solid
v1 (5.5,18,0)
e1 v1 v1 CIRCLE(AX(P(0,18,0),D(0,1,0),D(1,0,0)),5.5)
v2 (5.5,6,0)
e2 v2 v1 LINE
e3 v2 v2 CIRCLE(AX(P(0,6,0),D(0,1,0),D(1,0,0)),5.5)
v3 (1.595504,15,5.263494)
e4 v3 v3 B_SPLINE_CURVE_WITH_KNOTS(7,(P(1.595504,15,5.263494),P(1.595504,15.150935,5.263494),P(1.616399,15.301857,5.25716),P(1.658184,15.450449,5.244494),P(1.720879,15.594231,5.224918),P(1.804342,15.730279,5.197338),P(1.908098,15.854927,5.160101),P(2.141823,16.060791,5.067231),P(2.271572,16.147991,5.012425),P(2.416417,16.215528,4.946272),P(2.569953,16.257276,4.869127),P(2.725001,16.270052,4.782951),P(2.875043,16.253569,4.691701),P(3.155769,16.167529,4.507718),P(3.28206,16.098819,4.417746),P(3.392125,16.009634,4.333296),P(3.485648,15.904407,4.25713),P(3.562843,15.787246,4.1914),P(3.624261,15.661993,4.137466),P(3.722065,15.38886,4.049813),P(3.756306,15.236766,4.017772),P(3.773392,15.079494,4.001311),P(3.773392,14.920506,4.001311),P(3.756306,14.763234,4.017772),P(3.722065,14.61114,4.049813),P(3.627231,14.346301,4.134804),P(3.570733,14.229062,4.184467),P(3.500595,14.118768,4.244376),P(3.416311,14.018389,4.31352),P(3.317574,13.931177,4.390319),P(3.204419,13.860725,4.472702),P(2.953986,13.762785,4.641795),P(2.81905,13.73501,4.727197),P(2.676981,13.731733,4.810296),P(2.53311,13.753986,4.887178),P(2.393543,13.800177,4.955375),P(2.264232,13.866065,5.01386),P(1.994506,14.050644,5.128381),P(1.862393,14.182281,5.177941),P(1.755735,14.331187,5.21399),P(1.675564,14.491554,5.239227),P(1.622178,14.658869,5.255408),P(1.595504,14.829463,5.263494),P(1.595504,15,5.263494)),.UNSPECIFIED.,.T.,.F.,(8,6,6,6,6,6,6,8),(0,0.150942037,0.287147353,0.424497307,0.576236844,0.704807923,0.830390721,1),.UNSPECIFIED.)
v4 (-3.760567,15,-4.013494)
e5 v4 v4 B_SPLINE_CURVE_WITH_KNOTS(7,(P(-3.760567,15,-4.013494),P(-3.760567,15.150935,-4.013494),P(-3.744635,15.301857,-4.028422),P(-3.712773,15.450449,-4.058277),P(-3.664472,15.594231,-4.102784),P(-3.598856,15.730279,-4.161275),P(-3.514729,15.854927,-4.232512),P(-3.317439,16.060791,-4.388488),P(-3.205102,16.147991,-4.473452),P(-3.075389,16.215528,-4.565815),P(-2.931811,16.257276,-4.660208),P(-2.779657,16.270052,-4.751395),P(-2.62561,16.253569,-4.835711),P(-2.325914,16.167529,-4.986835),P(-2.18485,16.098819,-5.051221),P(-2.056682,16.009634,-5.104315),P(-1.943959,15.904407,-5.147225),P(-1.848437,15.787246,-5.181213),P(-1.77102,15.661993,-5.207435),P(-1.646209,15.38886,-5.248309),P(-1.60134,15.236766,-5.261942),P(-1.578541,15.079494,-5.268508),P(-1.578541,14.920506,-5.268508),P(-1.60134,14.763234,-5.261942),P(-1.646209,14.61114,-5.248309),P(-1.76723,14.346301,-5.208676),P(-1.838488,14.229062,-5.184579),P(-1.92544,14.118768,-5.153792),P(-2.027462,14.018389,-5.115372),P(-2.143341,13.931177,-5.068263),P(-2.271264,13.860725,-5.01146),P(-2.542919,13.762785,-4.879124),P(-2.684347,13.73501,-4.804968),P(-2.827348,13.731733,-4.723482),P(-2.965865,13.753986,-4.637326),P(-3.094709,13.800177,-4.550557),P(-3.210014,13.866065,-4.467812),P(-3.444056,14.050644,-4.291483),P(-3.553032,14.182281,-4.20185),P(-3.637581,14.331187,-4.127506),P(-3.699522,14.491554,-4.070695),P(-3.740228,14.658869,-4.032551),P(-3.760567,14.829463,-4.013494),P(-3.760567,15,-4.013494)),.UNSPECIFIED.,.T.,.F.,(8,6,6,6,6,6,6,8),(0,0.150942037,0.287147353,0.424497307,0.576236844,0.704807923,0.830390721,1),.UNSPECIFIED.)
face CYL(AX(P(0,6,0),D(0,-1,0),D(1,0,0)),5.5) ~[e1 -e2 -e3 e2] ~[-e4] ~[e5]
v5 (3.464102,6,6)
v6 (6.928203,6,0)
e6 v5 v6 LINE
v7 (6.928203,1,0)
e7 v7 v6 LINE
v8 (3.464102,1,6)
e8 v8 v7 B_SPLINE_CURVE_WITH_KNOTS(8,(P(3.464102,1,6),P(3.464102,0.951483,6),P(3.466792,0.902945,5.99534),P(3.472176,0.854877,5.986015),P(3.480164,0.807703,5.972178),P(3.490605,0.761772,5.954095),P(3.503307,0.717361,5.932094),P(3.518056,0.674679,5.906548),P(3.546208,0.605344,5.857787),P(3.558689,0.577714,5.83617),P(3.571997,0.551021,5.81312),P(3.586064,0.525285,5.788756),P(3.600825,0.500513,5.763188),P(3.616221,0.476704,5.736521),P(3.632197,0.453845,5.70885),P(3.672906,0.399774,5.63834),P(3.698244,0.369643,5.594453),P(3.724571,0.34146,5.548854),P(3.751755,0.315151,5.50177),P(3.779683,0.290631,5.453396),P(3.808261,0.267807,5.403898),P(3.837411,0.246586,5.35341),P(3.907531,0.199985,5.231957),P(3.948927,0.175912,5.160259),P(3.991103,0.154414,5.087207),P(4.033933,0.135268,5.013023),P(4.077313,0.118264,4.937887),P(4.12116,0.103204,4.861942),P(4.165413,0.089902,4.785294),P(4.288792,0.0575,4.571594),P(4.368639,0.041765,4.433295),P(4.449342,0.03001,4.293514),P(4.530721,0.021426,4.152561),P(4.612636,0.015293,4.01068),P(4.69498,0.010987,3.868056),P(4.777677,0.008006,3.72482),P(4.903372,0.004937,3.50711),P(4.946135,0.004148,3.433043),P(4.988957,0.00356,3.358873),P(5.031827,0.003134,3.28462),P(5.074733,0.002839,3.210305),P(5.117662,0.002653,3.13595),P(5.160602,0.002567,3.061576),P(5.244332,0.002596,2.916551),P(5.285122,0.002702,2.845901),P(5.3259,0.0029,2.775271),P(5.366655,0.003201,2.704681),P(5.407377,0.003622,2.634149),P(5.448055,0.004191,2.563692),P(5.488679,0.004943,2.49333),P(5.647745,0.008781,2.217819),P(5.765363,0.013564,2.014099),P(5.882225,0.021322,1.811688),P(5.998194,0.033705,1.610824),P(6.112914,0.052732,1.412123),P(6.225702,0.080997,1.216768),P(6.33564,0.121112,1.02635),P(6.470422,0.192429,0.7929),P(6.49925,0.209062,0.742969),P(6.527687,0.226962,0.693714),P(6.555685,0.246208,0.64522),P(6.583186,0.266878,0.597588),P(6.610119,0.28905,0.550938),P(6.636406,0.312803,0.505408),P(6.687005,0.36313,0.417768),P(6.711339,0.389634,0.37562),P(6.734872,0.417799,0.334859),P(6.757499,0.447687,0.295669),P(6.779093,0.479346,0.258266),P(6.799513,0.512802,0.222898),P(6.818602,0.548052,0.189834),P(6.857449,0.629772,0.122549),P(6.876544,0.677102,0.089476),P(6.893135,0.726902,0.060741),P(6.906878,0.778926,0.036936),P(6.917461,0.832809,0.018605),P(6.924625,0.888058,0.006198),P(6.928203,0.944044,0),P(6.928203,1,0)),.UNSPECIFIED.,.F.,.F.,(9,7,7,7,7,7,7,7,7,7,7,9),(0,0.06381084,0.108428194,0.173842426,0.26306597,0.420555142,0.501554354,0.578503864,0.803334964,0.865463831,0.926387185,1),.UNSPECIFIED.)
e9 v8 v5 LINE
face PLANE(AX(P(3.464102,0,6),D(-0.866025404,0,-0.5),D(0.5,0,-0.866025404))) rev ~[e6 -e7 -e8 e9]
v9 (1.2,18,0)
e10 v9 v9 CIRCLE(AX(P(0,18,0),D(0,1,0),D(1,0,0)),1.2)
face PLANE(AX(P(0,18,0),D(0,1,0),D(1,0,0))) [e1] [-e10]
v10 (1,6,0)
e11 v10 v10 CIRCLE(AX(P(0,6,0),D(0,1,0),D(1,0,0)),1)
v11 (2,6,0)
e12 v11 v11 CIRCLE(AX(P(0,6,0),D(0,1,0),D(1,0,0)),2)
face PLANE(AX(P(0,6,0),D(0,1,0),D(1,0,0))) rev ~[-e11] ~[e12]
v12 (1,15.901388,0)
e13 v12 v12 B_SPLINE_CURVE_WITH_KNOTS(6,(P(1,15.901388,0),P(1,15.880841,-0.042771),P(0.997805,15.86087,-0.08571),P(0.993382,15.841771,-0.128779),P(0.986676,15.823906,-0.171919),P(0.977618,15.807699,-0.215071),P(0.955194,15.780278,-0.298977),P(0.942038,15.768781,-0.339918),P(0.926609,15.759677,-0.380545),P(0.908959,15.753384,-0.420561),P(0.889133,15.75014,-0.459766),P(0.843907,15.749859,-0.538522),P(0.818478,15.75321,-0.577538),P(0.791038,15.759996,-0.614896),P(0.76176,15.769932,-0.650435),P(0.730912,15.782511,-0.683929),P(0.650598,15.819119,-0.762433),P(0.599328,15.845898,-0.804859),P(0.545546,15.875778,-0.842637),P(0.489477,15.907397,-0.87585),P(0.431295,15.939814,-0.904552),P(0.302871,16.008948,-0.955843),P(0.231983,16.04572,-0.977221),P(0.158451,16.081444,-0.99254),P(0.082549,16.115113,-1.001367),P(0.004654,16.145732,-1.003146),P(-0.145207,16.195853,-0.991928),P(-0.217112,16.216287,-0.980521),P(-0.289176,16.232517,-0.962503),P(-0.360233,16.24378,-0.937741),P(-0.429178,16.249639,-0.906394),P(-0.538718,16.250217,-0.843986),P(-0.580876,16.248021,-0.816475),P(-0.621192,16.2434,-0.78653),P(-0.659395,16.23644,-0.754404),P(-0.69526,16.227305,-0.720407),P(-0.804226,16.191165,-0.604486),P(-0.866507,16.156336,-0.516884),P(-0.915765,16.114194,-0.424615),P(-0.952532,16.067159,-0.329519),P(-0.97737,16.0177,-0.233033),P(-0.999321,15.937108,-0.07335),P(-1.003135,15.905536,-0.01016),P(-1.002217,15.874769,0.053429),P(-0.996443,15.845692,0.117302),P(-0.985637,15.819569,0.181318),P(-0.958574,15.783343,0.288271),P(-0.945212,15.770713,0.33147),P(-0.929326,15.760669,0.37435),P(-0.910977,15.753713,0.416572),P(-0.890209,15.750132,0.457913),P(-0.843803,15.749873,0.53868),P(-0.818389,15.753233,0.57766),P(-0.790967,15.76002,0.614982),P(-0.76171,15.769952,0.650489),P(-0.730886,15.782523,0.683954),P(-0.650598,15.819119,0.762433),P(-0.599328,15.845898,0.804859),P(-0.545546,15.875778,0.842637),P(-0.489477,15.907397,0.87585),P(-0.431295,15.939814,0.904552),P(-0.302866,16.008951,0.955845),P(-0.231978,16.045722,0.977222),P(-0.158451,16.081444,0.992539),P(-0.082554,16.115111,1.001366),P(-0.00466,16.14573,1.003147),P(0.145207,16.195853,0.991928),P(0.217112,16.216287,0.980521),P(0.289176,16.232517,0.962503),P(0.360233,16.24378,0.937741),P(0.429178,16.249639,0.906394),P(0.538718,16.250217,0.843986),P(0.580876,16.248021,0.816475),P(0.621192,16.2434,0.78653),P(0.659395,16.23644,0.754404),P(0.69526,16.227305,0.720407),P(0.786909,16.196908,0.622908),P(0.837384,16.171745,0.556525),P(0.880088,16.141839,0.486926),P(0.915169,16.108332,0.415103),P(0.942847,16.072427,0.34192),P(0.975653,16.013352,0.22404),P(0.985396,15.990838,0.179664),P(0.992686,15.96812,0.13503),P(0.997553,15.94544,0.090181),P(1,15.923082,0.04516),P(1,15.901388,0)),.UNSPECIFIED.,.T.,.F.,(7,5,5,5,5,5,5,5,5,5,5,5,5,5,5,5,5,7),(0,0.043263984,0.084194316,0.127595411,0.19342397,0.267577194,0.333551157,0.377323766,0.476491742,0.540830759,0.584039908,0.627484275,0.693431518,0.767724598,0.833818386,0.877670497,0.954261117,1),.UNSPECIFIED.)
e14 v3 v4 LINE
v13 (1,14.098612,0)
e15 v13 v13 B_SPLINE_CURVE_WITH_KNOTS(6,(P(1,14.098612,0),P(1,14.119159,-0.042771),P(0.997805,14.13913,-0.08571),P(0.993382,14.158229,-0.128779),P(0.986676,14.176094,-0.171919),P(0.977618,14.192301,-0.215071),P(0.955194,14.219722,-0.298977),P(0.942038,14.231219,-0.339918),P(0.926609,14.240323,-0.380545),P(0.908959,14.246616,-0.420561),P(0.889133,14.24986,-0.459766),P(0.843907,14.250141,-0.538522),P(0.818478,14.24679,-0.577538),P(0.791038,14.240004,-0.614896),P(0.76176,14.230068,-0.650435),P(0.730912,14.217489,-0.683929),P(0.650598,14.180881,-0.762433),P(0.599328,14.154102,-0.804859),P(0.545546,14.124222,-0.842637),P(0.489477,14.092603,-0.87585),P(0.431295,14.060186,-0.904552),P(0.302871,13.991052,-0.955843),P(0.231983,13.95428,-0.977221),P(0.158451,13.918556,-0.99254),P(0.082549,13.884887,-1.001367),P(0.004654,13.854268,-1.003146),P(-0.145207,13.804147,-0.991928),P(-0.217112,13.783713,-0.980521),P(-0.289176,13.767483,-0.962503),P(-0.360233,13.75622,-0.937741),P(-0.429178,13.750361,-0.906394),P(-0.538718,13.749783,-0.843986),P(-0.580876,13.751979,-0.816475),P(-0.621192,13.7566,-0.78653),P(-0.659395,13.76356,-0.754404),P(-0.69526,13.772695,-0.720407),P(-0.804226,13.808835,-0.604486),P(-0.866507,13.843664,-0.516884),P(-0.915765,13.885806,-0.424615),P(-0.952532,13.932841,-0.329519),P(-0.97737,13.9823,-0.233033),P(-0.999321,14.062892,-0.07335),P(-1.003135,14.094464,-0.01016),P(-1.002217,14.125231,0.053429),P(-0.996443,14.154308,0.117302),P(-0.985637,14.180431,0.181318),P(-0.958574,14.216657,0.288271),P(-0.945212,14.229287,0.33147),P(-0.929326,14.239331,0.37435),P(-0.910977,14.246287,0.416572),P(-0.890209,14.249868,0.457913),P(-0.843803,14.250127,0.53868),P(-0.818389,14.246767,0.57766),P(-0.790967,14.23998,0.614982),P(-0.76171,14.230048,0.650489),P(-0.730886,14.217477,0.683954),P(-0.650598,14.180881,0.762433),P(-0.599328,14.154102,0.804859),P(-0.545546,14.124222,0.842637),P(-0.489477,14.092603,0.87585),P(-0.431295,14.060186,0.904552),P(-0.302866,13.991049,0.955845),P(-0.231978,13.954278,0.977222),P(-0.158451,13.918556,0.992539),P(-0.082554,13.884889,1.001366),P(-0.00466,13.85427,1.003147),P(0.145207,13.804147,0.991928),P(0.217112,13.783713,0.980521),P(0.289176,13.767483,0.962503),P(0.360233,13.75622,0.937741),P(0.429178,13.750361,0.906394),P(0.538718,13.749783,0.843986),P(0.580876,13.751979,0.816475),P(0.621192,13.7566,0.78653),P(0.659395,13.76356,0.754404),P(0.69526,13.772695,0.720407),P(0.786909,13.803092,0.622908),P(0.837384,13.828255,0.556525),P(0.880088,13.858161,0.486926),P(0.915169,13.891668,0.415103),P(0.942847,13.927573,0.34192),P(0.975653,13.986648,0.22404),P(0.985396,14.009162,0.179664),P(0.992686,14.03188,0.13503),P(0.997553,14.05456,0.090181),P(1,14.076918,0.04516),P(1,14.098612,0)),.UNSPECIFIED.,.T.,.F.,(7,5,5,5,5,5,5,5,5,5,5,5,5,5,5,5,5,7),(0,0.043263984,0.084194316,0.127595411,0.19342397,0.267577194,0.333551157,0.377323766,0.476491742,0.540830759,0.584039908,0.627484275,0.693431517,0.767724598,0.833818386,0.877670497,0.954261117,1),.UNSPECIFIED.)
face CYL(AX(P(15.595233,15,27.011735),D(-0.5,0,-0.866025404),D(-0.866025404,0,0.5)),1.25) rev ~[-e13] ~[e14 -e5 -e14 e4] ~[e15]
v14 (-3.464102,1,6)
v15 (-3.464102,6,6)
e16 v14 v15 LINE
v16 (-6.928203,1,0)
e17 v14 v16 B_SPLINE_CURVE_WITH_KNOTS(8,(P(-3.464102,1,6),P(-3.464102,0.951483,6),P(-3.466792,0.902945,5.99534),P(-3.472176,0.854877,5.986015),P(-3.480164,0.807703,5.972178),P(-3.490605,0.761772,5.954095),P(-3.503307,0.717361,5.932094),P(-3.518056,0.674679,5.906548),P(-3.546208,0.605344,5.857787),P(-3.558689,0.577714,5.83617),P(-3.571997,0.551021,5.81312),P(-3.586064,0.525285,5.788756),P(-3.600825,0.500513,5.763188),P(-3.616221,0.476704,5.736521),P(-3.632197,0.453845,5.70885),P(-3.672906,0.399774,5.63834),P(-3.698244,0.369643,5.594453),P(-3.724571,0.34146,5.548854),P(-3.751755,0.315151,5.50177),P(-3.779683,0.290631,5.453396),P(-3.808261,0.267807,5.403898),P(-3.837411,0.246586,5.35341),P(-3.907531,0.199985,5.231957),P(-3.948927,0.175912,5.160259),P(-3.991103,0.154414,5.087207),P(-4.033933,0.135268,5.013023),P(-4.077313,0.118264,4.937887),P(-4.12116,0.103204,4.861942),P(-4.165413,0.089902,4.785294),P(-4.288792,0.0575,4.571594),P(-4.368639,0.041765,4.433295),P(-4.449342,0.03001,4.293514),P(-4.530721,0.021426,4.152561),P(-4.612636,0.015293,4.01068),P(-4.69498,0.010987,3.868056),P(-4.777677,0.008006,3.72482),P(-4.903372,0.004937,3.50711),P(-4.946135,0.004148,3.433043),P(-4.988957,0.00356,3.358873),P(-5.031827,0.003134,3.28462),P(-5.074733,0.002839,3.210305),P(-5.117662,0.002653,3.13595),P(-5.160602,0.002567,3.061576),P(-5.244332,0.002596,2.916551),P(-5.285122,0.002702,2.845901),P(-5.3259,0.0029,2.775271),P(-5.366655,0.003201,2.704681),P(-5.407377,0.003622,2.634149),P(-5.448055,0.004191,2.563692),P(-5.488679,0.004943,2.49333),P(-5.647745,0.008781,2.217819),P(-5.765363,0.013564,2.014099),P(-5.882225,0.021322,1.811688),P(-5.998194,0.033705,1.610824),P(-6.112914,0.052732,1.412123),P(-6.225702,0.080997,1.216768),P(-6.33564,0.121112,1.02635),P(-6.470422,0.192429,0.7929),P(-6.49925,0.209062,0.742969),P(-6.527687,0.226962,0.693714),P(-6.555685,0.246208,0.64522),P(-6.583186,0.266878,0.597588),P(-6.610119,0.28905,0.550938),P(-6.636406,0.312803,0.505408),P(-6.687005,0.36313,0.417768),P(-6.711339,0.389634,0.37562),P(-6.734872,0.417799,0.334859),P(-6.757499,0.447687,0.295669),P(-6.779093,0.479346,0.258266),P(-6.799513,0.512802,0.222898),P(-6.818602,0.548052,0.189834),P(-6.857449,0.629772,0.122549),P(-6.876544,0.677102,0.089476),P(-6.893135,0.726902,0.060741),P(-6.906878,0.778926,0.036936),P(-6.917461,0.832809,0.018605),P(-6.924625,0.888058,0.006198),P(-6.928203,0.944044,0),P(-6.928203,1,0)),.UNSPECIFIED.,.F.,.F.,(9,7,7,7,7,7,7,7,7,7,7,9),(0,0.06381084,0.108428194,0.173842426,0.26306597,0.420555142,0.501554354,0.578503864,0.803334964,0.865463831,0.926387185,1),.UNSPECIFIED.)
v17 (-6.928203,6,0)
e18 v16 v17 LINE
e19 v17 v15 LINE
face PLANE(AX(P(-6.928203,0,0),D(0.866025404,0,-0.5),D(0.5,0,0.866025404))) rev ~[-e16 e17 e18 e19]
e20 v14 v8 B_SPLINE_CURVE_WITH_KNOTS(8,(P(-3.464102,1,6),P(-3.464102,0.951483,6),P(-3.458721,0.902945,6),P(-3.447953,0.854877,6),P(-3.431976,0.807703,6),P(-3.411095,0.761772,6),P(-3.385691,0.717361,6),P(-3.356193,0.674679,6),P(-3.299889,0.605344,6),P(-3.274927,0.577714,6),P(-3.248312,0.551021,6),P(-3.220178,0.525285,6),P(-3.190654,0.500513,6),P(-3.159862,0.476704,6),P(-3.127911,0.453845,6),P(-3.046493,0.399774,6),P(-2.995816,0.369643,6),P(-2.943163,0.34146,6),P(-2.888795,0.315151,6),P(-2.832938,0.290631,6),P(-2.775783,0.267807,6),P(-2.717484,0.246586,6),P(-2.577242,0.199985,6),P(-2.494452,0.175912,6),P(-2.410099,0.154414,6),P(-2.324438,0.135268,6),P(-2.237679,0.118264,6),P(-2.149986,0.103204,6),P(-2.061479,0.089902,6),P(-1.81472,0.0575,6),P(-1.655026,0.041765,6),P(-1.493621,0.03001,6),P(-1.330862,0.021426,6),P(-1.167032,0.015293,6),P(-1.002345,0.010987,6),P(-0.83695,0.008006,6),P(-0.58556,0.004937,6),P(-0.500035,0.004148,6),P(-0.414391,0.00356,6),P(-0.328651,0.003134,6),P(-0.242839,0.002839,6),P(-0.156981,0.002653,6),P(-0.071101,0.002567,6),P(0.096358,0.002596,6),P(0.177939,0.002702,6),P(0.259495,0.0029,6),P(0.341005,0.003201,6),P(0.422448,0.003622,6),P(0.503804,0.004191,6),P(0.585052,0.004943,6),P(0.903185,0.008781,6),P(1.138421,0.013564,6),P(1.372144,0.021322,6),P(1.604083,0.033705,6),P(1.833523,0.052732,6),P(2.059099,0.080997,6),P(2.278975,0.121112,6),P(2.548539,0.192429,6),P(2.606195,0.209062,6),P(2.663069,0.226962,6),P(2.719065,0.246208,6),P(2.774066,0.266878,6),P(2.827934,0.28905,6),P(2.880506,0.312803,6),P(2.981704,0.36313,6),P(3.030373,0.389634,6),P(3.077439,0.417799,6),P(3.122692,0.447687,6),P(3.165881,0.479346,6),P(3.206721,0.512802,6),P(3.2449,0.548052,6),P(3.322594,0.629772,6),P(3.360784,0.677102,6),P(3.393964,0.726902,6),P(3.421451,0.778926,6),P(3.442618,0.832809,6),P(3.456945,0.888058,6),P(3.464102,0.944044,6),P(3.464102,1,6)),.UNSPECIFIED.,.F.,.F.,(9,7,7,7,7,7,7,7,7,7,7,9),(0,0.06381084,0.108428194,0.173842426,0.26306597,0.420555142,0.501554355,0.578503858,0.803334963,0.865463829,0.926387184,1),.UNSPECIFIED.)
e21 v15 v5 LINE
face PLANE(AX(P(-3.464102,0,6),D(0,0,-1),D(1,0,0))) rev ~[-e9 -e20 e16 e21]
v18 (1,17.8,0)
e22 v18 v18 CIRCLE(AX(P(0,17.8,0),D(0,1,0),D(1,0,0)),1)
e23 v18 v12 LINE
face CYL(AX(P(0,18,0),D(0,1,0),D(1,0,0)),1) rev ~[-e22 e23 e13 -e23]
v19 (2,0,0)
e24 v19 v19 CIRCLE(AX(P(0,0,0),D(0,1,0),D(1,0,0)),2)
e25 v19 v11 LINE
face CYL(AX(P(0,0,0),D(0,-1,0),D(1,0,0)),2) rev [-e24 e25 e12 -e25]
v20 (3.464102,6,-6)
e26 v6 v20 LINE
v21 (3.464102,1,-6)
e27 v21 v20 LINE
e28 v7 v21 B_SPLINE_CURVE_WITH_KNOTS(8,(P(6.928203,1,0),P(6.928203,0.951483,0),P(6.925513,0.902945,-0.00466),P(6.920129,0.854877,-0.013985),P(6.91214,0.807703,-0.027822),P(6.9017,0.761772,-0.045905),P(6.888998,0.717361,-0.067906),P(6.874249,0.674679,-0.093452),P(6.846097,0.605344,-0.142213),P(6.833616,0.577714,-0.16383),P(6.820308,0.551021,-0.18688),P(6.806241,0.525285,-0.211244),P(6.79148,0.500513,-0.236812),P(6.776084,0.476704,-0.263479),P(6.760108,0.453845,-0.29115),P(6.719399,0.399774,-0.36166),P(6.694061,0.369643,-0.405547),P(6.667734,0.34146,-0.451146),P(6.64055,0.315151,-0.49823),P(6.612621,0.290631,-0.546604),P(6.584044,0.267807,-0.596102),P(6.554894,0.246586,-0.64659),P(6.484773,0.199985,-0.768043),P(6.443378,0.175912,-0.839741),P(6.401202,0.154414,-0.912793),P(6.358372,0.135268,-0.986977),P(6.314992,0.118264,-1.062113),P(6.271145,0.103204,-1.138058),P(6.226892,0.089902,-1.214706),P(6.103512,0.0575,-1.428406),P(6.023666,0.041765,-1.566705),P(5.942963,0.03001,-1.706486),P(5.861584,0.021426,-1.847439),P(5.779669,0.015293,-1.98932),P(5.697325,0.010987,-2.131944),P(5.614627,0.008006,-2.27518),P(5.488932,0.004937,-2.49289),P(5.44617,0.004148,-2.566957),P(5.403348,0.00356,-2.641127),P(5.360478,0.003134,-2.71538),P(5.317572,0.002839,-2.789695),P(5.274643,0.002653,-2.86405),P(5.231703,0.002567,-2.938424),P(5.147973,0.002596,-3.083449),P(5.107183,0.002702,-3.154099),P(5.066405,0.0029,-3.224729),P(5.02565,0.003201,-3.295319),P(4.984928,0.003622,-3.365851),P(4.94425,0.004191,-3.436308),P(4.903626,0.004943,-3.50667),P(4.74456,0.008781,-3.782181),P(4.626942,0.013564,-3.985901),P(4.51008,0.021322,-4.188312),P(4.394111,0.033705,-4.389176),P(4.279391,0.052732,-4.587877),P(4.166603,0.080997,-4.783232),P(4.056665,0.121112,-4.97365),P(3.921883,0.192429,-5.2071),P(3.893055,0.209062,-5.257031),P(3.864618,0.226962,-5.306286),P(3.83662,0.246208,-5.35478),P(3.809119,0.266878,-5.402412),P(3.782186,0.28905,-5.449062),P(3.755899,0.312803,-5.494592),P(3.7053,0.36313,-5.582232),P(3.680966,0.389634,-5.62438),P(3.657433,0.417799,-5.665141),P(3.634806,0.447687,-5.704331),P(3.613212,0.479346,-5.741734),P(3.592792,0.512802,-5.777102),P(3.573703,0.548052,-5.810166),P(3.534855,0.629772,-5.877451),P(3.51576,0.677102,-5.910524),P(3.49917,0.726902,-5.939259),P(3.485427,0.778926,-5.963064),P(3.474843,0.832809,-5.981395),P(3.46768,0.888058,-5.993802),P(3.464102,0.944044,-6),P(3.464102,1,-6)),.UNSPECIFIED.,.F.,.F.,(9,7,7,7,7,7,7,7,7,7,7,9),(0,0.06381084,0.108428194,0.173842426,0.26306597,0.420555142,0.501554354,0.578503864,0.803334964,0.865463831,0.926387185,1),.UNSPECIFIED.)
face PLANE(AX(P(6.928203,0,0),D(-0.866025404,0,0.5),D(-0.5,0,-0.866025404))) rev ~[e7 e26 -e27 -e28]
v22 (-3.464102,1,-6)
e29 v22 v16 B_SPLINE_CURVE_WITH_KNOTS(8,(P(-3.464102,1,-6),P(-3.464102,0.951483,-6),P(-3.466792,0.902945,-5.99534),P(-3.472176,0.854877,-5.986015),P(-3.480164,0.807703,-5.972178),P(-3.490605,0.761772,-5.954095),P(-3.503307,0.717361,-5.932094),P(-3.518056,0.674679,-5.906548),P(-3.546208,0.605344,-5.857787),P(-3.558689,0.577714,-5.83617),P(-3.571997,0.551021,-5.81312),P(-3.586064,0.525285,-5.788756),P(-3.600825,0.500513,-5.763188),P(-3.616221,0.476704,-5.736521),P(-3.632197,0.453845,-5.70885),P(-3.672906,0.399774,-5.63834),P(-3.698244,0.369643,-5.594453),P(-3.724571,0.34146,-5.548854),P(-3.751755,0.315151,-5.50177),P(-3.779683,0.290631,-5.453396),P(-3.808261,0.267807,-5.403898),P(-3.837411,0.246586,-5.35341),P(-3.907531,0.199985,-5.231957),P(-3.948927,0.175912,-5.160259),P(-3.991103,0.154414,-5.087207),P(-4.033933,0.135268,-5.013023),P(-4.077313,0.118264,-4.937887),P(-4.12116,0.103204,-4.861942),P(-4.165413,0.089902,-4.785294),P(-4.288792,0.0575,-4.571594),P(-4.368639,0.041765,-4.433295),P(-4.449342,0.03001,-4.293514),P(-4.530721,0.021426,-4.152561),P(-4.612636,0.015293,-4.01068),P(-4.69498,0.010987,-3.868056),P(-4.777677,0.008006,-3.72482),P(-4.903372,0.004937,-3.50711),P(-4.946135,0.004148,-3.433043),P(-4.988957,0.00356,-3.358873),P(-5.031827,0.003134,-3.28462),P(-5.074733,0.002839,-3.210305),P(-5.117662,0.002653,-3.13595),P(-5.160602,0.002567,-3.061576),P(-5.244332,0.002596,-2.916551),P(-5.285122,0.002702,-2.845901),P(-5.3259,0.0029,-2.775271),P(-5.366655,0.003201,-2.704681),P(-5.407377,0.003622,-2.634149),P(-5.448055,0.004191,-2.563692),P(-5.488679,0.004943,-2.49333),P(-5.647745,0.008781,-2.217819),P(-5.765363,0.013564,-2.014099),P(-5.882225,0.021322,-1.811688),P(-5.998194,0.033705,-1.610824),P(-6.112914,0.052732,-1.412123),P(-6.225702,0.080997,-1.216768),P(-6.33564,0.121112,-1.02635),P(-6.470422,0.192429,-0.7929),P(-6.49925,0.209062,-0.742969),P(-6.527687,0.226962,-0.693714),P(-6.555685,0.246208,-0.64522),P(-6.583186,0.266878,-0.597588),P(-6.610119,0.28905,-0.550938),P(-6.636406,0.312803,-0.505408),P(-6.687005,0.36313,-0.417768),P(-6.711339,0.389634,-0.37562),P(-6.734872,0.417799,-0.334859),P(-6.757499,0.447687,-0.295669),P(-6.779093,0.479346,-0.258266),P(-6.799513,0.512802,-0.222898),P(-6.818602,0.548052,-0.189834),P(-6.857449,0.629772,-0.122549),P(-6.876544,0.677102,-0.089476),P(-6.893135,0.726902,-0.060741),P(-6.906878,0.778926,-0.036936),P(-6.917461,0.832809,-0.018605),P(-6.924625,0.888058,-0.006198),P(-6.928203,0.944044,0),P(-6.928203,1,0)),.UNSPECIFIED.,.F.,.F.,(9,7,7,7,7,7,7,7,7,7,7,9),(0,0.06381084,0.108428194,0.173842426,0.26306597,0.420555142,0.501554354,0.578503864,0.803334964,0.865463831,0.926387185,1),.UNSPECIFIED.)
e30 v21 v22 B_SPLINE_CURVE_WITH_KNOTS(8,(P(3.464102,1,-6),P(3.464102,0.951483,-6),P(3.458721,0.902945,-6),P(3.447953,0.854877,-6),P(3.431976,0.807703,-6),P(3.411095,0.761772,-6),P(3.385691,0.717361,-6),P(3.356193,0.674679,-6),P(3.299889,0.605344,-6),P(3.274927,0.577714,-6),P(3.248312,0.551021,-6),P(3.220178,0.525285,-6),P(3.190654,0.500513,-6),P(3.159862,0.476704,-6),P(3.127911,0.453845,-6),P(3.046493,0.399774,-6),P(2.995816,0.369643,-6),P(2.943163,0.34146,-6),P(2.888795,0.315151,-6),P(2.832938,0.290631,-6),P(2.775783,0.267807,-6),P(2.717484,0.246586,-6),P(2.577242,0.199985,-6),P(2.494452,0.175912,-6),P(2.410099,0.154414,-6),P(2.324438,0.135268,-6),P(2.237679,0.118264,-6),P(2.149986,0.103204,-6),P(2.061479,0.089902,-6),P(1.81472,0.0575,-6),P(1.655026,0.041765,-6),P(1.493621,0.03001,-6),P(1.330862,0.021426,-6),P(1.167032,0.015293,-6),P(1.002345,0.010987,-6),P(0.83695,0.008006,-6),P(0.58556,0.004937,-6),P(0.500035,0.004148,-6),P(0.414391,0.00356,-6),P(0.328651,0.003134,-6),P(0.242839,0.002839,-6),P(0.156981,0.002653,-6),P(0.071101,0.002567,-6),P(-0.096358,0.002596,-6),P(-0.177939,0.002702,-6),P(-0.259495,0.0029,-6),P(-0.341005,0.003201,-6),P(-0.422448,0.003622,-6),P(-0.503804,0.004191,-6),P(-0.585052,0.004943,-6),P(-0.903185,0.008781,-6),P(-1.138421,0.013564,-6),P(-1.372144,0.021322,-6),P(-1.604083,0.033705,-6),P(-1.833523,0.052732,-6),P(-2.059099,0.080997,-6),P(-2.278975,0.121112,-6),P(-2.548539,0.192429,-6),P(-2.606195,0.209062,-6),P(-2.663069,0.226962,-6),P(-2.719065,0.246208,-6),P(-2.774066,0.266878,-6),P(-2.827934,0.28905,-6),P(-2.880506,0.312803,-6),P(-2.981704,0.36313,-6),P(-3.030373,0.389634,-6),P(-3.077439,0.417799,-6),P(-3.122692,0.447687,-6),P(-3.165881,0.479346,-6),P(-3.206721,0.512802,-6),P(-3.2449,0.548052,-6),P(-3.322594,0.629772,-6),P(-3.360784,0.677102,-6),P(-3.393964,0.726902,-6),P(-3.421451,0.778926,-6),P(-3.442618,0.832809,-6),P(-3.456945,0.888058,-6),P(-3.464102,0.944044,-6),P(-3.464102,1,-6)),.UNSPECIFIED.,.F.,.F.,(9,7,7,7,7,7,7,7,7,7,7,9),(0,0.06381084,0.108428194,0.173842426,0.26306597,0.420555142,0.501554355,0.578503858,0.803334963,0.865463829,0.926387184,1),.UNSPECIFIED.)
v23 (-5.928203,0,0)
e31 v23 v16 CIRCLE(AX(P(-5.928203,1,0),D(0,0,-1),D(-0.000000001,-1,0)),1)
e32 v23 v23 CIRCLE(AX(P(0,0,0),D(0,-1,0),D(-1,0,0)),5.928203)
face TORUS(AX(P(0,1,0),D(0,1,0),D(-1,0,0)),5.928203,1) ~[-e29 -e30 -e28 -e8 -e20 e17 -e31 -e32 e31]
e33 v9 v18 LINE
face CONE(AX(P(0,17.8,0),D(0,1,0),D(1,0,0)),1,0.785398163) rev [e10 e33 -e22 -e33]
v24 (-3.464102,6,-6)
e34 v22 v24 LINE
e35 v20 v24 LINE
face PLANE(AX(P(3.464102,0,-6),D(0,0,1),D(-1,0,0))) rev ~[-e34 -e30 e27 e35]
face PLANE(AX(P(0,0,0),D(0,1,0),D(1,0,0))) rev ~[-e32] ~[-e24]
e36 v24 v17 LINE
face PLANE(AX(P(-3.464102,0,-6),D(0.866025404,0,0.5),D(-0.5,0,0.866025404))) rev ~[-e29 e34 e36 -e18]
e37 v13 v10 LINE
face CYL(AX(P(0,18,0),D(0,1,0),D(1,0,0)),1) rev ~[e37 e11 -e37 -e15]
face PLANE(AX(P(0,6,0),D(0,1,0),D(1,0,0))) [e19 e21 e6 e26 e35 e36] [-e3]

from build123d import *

# Parameters (mm, degrees)
SKETCH1_R                = 2
BASE_DEPTH               = 6
SKETCH2_R                = 5.5
SHAFT_HOLDING_BODY_DEPTH = 12
M3X0_5_1_D               = 2.5
SKETCH13_R               = 1
SHAFT_HOLE_DEPTH         = 19.0000001
SH_C_SIZE                = 0.2


with BuildPart() as part:
    # Sketch1 → BASE (new body)
    with BuildSketch(Plane(origin=(0, 0, 0), x_dir=(1, 0, 0), z_dir=(0, 1, 0))):
        Polygon((3.464101615, -6), (6.92820323, 0), (3.464101615, 6), (-3.464101615, 6), (-6.92820323, 0), (-3.464101615, -6), align=None)
        Circle(SKETCH1_R, mode=Mode.SUBTRACT)
    extrude(amount=BASE_DEPTH)

    # Sketch2 → SHAFT HOLDING BODY (add)
    with BuildSketch(Plane(origin=(0, 6, 0), x_dir=(1, 0, 0), z_dir=(0, 1, 0))):
        Circle(SKETCH2_R)
    extrude(amount=SHAFT_HOLDING_BODY_DEPTH)

    # M3x0.5 螺纹孔1 (through all)
    with Locations(Plane(origin=(2.75, 6, 4.763139721), x_dir=(0.866025404, 0, -0.5), z_dir=(0.5, 0, 0.866025404))):
        with Locations((0, 9)):
            Hole(M3X0_5_1_D / 2)

    # Sketch9 → BASE CHAMFER RELIEF (revolve, cut)
    with BuildSketch(Plane.XY):
        with BuildLine():
            Line((-6.92820323, 1), (-6.92820323, 0))
            Line((-6.92820323, 0), (-5.92820323, 0))
            ThreePointArc((-5.92820323, 0), (-6.635310011, 0.292893219), (-6.92820323, 1))
        make_face()
    revolve(axis=Axis((0, 22.106901259, 0), (0, -1, 0)), mode=Mode.SUBTRACT)

    # Sketch13 → SHAFT HOLE (cut, through all)
    with BuildSketch(Plane(origin=(0, 18, 0), x_dir=(1, 0, 0), z_dir=(0, 1, 0))):
        Circle(SKETCH13_R)
    extrude(amount=-SHAFT_HOLE_DEPTH, mode=Mode.SUBTRACT)

    # SH C
    sh_c_edges = [part.edges().sort_by_distance(p)[0] for p in [
        (-1, 18, 0),
    ]]
    chamfer(sh_c_edges, length=SH_C_SIZE)


solid = part.part
